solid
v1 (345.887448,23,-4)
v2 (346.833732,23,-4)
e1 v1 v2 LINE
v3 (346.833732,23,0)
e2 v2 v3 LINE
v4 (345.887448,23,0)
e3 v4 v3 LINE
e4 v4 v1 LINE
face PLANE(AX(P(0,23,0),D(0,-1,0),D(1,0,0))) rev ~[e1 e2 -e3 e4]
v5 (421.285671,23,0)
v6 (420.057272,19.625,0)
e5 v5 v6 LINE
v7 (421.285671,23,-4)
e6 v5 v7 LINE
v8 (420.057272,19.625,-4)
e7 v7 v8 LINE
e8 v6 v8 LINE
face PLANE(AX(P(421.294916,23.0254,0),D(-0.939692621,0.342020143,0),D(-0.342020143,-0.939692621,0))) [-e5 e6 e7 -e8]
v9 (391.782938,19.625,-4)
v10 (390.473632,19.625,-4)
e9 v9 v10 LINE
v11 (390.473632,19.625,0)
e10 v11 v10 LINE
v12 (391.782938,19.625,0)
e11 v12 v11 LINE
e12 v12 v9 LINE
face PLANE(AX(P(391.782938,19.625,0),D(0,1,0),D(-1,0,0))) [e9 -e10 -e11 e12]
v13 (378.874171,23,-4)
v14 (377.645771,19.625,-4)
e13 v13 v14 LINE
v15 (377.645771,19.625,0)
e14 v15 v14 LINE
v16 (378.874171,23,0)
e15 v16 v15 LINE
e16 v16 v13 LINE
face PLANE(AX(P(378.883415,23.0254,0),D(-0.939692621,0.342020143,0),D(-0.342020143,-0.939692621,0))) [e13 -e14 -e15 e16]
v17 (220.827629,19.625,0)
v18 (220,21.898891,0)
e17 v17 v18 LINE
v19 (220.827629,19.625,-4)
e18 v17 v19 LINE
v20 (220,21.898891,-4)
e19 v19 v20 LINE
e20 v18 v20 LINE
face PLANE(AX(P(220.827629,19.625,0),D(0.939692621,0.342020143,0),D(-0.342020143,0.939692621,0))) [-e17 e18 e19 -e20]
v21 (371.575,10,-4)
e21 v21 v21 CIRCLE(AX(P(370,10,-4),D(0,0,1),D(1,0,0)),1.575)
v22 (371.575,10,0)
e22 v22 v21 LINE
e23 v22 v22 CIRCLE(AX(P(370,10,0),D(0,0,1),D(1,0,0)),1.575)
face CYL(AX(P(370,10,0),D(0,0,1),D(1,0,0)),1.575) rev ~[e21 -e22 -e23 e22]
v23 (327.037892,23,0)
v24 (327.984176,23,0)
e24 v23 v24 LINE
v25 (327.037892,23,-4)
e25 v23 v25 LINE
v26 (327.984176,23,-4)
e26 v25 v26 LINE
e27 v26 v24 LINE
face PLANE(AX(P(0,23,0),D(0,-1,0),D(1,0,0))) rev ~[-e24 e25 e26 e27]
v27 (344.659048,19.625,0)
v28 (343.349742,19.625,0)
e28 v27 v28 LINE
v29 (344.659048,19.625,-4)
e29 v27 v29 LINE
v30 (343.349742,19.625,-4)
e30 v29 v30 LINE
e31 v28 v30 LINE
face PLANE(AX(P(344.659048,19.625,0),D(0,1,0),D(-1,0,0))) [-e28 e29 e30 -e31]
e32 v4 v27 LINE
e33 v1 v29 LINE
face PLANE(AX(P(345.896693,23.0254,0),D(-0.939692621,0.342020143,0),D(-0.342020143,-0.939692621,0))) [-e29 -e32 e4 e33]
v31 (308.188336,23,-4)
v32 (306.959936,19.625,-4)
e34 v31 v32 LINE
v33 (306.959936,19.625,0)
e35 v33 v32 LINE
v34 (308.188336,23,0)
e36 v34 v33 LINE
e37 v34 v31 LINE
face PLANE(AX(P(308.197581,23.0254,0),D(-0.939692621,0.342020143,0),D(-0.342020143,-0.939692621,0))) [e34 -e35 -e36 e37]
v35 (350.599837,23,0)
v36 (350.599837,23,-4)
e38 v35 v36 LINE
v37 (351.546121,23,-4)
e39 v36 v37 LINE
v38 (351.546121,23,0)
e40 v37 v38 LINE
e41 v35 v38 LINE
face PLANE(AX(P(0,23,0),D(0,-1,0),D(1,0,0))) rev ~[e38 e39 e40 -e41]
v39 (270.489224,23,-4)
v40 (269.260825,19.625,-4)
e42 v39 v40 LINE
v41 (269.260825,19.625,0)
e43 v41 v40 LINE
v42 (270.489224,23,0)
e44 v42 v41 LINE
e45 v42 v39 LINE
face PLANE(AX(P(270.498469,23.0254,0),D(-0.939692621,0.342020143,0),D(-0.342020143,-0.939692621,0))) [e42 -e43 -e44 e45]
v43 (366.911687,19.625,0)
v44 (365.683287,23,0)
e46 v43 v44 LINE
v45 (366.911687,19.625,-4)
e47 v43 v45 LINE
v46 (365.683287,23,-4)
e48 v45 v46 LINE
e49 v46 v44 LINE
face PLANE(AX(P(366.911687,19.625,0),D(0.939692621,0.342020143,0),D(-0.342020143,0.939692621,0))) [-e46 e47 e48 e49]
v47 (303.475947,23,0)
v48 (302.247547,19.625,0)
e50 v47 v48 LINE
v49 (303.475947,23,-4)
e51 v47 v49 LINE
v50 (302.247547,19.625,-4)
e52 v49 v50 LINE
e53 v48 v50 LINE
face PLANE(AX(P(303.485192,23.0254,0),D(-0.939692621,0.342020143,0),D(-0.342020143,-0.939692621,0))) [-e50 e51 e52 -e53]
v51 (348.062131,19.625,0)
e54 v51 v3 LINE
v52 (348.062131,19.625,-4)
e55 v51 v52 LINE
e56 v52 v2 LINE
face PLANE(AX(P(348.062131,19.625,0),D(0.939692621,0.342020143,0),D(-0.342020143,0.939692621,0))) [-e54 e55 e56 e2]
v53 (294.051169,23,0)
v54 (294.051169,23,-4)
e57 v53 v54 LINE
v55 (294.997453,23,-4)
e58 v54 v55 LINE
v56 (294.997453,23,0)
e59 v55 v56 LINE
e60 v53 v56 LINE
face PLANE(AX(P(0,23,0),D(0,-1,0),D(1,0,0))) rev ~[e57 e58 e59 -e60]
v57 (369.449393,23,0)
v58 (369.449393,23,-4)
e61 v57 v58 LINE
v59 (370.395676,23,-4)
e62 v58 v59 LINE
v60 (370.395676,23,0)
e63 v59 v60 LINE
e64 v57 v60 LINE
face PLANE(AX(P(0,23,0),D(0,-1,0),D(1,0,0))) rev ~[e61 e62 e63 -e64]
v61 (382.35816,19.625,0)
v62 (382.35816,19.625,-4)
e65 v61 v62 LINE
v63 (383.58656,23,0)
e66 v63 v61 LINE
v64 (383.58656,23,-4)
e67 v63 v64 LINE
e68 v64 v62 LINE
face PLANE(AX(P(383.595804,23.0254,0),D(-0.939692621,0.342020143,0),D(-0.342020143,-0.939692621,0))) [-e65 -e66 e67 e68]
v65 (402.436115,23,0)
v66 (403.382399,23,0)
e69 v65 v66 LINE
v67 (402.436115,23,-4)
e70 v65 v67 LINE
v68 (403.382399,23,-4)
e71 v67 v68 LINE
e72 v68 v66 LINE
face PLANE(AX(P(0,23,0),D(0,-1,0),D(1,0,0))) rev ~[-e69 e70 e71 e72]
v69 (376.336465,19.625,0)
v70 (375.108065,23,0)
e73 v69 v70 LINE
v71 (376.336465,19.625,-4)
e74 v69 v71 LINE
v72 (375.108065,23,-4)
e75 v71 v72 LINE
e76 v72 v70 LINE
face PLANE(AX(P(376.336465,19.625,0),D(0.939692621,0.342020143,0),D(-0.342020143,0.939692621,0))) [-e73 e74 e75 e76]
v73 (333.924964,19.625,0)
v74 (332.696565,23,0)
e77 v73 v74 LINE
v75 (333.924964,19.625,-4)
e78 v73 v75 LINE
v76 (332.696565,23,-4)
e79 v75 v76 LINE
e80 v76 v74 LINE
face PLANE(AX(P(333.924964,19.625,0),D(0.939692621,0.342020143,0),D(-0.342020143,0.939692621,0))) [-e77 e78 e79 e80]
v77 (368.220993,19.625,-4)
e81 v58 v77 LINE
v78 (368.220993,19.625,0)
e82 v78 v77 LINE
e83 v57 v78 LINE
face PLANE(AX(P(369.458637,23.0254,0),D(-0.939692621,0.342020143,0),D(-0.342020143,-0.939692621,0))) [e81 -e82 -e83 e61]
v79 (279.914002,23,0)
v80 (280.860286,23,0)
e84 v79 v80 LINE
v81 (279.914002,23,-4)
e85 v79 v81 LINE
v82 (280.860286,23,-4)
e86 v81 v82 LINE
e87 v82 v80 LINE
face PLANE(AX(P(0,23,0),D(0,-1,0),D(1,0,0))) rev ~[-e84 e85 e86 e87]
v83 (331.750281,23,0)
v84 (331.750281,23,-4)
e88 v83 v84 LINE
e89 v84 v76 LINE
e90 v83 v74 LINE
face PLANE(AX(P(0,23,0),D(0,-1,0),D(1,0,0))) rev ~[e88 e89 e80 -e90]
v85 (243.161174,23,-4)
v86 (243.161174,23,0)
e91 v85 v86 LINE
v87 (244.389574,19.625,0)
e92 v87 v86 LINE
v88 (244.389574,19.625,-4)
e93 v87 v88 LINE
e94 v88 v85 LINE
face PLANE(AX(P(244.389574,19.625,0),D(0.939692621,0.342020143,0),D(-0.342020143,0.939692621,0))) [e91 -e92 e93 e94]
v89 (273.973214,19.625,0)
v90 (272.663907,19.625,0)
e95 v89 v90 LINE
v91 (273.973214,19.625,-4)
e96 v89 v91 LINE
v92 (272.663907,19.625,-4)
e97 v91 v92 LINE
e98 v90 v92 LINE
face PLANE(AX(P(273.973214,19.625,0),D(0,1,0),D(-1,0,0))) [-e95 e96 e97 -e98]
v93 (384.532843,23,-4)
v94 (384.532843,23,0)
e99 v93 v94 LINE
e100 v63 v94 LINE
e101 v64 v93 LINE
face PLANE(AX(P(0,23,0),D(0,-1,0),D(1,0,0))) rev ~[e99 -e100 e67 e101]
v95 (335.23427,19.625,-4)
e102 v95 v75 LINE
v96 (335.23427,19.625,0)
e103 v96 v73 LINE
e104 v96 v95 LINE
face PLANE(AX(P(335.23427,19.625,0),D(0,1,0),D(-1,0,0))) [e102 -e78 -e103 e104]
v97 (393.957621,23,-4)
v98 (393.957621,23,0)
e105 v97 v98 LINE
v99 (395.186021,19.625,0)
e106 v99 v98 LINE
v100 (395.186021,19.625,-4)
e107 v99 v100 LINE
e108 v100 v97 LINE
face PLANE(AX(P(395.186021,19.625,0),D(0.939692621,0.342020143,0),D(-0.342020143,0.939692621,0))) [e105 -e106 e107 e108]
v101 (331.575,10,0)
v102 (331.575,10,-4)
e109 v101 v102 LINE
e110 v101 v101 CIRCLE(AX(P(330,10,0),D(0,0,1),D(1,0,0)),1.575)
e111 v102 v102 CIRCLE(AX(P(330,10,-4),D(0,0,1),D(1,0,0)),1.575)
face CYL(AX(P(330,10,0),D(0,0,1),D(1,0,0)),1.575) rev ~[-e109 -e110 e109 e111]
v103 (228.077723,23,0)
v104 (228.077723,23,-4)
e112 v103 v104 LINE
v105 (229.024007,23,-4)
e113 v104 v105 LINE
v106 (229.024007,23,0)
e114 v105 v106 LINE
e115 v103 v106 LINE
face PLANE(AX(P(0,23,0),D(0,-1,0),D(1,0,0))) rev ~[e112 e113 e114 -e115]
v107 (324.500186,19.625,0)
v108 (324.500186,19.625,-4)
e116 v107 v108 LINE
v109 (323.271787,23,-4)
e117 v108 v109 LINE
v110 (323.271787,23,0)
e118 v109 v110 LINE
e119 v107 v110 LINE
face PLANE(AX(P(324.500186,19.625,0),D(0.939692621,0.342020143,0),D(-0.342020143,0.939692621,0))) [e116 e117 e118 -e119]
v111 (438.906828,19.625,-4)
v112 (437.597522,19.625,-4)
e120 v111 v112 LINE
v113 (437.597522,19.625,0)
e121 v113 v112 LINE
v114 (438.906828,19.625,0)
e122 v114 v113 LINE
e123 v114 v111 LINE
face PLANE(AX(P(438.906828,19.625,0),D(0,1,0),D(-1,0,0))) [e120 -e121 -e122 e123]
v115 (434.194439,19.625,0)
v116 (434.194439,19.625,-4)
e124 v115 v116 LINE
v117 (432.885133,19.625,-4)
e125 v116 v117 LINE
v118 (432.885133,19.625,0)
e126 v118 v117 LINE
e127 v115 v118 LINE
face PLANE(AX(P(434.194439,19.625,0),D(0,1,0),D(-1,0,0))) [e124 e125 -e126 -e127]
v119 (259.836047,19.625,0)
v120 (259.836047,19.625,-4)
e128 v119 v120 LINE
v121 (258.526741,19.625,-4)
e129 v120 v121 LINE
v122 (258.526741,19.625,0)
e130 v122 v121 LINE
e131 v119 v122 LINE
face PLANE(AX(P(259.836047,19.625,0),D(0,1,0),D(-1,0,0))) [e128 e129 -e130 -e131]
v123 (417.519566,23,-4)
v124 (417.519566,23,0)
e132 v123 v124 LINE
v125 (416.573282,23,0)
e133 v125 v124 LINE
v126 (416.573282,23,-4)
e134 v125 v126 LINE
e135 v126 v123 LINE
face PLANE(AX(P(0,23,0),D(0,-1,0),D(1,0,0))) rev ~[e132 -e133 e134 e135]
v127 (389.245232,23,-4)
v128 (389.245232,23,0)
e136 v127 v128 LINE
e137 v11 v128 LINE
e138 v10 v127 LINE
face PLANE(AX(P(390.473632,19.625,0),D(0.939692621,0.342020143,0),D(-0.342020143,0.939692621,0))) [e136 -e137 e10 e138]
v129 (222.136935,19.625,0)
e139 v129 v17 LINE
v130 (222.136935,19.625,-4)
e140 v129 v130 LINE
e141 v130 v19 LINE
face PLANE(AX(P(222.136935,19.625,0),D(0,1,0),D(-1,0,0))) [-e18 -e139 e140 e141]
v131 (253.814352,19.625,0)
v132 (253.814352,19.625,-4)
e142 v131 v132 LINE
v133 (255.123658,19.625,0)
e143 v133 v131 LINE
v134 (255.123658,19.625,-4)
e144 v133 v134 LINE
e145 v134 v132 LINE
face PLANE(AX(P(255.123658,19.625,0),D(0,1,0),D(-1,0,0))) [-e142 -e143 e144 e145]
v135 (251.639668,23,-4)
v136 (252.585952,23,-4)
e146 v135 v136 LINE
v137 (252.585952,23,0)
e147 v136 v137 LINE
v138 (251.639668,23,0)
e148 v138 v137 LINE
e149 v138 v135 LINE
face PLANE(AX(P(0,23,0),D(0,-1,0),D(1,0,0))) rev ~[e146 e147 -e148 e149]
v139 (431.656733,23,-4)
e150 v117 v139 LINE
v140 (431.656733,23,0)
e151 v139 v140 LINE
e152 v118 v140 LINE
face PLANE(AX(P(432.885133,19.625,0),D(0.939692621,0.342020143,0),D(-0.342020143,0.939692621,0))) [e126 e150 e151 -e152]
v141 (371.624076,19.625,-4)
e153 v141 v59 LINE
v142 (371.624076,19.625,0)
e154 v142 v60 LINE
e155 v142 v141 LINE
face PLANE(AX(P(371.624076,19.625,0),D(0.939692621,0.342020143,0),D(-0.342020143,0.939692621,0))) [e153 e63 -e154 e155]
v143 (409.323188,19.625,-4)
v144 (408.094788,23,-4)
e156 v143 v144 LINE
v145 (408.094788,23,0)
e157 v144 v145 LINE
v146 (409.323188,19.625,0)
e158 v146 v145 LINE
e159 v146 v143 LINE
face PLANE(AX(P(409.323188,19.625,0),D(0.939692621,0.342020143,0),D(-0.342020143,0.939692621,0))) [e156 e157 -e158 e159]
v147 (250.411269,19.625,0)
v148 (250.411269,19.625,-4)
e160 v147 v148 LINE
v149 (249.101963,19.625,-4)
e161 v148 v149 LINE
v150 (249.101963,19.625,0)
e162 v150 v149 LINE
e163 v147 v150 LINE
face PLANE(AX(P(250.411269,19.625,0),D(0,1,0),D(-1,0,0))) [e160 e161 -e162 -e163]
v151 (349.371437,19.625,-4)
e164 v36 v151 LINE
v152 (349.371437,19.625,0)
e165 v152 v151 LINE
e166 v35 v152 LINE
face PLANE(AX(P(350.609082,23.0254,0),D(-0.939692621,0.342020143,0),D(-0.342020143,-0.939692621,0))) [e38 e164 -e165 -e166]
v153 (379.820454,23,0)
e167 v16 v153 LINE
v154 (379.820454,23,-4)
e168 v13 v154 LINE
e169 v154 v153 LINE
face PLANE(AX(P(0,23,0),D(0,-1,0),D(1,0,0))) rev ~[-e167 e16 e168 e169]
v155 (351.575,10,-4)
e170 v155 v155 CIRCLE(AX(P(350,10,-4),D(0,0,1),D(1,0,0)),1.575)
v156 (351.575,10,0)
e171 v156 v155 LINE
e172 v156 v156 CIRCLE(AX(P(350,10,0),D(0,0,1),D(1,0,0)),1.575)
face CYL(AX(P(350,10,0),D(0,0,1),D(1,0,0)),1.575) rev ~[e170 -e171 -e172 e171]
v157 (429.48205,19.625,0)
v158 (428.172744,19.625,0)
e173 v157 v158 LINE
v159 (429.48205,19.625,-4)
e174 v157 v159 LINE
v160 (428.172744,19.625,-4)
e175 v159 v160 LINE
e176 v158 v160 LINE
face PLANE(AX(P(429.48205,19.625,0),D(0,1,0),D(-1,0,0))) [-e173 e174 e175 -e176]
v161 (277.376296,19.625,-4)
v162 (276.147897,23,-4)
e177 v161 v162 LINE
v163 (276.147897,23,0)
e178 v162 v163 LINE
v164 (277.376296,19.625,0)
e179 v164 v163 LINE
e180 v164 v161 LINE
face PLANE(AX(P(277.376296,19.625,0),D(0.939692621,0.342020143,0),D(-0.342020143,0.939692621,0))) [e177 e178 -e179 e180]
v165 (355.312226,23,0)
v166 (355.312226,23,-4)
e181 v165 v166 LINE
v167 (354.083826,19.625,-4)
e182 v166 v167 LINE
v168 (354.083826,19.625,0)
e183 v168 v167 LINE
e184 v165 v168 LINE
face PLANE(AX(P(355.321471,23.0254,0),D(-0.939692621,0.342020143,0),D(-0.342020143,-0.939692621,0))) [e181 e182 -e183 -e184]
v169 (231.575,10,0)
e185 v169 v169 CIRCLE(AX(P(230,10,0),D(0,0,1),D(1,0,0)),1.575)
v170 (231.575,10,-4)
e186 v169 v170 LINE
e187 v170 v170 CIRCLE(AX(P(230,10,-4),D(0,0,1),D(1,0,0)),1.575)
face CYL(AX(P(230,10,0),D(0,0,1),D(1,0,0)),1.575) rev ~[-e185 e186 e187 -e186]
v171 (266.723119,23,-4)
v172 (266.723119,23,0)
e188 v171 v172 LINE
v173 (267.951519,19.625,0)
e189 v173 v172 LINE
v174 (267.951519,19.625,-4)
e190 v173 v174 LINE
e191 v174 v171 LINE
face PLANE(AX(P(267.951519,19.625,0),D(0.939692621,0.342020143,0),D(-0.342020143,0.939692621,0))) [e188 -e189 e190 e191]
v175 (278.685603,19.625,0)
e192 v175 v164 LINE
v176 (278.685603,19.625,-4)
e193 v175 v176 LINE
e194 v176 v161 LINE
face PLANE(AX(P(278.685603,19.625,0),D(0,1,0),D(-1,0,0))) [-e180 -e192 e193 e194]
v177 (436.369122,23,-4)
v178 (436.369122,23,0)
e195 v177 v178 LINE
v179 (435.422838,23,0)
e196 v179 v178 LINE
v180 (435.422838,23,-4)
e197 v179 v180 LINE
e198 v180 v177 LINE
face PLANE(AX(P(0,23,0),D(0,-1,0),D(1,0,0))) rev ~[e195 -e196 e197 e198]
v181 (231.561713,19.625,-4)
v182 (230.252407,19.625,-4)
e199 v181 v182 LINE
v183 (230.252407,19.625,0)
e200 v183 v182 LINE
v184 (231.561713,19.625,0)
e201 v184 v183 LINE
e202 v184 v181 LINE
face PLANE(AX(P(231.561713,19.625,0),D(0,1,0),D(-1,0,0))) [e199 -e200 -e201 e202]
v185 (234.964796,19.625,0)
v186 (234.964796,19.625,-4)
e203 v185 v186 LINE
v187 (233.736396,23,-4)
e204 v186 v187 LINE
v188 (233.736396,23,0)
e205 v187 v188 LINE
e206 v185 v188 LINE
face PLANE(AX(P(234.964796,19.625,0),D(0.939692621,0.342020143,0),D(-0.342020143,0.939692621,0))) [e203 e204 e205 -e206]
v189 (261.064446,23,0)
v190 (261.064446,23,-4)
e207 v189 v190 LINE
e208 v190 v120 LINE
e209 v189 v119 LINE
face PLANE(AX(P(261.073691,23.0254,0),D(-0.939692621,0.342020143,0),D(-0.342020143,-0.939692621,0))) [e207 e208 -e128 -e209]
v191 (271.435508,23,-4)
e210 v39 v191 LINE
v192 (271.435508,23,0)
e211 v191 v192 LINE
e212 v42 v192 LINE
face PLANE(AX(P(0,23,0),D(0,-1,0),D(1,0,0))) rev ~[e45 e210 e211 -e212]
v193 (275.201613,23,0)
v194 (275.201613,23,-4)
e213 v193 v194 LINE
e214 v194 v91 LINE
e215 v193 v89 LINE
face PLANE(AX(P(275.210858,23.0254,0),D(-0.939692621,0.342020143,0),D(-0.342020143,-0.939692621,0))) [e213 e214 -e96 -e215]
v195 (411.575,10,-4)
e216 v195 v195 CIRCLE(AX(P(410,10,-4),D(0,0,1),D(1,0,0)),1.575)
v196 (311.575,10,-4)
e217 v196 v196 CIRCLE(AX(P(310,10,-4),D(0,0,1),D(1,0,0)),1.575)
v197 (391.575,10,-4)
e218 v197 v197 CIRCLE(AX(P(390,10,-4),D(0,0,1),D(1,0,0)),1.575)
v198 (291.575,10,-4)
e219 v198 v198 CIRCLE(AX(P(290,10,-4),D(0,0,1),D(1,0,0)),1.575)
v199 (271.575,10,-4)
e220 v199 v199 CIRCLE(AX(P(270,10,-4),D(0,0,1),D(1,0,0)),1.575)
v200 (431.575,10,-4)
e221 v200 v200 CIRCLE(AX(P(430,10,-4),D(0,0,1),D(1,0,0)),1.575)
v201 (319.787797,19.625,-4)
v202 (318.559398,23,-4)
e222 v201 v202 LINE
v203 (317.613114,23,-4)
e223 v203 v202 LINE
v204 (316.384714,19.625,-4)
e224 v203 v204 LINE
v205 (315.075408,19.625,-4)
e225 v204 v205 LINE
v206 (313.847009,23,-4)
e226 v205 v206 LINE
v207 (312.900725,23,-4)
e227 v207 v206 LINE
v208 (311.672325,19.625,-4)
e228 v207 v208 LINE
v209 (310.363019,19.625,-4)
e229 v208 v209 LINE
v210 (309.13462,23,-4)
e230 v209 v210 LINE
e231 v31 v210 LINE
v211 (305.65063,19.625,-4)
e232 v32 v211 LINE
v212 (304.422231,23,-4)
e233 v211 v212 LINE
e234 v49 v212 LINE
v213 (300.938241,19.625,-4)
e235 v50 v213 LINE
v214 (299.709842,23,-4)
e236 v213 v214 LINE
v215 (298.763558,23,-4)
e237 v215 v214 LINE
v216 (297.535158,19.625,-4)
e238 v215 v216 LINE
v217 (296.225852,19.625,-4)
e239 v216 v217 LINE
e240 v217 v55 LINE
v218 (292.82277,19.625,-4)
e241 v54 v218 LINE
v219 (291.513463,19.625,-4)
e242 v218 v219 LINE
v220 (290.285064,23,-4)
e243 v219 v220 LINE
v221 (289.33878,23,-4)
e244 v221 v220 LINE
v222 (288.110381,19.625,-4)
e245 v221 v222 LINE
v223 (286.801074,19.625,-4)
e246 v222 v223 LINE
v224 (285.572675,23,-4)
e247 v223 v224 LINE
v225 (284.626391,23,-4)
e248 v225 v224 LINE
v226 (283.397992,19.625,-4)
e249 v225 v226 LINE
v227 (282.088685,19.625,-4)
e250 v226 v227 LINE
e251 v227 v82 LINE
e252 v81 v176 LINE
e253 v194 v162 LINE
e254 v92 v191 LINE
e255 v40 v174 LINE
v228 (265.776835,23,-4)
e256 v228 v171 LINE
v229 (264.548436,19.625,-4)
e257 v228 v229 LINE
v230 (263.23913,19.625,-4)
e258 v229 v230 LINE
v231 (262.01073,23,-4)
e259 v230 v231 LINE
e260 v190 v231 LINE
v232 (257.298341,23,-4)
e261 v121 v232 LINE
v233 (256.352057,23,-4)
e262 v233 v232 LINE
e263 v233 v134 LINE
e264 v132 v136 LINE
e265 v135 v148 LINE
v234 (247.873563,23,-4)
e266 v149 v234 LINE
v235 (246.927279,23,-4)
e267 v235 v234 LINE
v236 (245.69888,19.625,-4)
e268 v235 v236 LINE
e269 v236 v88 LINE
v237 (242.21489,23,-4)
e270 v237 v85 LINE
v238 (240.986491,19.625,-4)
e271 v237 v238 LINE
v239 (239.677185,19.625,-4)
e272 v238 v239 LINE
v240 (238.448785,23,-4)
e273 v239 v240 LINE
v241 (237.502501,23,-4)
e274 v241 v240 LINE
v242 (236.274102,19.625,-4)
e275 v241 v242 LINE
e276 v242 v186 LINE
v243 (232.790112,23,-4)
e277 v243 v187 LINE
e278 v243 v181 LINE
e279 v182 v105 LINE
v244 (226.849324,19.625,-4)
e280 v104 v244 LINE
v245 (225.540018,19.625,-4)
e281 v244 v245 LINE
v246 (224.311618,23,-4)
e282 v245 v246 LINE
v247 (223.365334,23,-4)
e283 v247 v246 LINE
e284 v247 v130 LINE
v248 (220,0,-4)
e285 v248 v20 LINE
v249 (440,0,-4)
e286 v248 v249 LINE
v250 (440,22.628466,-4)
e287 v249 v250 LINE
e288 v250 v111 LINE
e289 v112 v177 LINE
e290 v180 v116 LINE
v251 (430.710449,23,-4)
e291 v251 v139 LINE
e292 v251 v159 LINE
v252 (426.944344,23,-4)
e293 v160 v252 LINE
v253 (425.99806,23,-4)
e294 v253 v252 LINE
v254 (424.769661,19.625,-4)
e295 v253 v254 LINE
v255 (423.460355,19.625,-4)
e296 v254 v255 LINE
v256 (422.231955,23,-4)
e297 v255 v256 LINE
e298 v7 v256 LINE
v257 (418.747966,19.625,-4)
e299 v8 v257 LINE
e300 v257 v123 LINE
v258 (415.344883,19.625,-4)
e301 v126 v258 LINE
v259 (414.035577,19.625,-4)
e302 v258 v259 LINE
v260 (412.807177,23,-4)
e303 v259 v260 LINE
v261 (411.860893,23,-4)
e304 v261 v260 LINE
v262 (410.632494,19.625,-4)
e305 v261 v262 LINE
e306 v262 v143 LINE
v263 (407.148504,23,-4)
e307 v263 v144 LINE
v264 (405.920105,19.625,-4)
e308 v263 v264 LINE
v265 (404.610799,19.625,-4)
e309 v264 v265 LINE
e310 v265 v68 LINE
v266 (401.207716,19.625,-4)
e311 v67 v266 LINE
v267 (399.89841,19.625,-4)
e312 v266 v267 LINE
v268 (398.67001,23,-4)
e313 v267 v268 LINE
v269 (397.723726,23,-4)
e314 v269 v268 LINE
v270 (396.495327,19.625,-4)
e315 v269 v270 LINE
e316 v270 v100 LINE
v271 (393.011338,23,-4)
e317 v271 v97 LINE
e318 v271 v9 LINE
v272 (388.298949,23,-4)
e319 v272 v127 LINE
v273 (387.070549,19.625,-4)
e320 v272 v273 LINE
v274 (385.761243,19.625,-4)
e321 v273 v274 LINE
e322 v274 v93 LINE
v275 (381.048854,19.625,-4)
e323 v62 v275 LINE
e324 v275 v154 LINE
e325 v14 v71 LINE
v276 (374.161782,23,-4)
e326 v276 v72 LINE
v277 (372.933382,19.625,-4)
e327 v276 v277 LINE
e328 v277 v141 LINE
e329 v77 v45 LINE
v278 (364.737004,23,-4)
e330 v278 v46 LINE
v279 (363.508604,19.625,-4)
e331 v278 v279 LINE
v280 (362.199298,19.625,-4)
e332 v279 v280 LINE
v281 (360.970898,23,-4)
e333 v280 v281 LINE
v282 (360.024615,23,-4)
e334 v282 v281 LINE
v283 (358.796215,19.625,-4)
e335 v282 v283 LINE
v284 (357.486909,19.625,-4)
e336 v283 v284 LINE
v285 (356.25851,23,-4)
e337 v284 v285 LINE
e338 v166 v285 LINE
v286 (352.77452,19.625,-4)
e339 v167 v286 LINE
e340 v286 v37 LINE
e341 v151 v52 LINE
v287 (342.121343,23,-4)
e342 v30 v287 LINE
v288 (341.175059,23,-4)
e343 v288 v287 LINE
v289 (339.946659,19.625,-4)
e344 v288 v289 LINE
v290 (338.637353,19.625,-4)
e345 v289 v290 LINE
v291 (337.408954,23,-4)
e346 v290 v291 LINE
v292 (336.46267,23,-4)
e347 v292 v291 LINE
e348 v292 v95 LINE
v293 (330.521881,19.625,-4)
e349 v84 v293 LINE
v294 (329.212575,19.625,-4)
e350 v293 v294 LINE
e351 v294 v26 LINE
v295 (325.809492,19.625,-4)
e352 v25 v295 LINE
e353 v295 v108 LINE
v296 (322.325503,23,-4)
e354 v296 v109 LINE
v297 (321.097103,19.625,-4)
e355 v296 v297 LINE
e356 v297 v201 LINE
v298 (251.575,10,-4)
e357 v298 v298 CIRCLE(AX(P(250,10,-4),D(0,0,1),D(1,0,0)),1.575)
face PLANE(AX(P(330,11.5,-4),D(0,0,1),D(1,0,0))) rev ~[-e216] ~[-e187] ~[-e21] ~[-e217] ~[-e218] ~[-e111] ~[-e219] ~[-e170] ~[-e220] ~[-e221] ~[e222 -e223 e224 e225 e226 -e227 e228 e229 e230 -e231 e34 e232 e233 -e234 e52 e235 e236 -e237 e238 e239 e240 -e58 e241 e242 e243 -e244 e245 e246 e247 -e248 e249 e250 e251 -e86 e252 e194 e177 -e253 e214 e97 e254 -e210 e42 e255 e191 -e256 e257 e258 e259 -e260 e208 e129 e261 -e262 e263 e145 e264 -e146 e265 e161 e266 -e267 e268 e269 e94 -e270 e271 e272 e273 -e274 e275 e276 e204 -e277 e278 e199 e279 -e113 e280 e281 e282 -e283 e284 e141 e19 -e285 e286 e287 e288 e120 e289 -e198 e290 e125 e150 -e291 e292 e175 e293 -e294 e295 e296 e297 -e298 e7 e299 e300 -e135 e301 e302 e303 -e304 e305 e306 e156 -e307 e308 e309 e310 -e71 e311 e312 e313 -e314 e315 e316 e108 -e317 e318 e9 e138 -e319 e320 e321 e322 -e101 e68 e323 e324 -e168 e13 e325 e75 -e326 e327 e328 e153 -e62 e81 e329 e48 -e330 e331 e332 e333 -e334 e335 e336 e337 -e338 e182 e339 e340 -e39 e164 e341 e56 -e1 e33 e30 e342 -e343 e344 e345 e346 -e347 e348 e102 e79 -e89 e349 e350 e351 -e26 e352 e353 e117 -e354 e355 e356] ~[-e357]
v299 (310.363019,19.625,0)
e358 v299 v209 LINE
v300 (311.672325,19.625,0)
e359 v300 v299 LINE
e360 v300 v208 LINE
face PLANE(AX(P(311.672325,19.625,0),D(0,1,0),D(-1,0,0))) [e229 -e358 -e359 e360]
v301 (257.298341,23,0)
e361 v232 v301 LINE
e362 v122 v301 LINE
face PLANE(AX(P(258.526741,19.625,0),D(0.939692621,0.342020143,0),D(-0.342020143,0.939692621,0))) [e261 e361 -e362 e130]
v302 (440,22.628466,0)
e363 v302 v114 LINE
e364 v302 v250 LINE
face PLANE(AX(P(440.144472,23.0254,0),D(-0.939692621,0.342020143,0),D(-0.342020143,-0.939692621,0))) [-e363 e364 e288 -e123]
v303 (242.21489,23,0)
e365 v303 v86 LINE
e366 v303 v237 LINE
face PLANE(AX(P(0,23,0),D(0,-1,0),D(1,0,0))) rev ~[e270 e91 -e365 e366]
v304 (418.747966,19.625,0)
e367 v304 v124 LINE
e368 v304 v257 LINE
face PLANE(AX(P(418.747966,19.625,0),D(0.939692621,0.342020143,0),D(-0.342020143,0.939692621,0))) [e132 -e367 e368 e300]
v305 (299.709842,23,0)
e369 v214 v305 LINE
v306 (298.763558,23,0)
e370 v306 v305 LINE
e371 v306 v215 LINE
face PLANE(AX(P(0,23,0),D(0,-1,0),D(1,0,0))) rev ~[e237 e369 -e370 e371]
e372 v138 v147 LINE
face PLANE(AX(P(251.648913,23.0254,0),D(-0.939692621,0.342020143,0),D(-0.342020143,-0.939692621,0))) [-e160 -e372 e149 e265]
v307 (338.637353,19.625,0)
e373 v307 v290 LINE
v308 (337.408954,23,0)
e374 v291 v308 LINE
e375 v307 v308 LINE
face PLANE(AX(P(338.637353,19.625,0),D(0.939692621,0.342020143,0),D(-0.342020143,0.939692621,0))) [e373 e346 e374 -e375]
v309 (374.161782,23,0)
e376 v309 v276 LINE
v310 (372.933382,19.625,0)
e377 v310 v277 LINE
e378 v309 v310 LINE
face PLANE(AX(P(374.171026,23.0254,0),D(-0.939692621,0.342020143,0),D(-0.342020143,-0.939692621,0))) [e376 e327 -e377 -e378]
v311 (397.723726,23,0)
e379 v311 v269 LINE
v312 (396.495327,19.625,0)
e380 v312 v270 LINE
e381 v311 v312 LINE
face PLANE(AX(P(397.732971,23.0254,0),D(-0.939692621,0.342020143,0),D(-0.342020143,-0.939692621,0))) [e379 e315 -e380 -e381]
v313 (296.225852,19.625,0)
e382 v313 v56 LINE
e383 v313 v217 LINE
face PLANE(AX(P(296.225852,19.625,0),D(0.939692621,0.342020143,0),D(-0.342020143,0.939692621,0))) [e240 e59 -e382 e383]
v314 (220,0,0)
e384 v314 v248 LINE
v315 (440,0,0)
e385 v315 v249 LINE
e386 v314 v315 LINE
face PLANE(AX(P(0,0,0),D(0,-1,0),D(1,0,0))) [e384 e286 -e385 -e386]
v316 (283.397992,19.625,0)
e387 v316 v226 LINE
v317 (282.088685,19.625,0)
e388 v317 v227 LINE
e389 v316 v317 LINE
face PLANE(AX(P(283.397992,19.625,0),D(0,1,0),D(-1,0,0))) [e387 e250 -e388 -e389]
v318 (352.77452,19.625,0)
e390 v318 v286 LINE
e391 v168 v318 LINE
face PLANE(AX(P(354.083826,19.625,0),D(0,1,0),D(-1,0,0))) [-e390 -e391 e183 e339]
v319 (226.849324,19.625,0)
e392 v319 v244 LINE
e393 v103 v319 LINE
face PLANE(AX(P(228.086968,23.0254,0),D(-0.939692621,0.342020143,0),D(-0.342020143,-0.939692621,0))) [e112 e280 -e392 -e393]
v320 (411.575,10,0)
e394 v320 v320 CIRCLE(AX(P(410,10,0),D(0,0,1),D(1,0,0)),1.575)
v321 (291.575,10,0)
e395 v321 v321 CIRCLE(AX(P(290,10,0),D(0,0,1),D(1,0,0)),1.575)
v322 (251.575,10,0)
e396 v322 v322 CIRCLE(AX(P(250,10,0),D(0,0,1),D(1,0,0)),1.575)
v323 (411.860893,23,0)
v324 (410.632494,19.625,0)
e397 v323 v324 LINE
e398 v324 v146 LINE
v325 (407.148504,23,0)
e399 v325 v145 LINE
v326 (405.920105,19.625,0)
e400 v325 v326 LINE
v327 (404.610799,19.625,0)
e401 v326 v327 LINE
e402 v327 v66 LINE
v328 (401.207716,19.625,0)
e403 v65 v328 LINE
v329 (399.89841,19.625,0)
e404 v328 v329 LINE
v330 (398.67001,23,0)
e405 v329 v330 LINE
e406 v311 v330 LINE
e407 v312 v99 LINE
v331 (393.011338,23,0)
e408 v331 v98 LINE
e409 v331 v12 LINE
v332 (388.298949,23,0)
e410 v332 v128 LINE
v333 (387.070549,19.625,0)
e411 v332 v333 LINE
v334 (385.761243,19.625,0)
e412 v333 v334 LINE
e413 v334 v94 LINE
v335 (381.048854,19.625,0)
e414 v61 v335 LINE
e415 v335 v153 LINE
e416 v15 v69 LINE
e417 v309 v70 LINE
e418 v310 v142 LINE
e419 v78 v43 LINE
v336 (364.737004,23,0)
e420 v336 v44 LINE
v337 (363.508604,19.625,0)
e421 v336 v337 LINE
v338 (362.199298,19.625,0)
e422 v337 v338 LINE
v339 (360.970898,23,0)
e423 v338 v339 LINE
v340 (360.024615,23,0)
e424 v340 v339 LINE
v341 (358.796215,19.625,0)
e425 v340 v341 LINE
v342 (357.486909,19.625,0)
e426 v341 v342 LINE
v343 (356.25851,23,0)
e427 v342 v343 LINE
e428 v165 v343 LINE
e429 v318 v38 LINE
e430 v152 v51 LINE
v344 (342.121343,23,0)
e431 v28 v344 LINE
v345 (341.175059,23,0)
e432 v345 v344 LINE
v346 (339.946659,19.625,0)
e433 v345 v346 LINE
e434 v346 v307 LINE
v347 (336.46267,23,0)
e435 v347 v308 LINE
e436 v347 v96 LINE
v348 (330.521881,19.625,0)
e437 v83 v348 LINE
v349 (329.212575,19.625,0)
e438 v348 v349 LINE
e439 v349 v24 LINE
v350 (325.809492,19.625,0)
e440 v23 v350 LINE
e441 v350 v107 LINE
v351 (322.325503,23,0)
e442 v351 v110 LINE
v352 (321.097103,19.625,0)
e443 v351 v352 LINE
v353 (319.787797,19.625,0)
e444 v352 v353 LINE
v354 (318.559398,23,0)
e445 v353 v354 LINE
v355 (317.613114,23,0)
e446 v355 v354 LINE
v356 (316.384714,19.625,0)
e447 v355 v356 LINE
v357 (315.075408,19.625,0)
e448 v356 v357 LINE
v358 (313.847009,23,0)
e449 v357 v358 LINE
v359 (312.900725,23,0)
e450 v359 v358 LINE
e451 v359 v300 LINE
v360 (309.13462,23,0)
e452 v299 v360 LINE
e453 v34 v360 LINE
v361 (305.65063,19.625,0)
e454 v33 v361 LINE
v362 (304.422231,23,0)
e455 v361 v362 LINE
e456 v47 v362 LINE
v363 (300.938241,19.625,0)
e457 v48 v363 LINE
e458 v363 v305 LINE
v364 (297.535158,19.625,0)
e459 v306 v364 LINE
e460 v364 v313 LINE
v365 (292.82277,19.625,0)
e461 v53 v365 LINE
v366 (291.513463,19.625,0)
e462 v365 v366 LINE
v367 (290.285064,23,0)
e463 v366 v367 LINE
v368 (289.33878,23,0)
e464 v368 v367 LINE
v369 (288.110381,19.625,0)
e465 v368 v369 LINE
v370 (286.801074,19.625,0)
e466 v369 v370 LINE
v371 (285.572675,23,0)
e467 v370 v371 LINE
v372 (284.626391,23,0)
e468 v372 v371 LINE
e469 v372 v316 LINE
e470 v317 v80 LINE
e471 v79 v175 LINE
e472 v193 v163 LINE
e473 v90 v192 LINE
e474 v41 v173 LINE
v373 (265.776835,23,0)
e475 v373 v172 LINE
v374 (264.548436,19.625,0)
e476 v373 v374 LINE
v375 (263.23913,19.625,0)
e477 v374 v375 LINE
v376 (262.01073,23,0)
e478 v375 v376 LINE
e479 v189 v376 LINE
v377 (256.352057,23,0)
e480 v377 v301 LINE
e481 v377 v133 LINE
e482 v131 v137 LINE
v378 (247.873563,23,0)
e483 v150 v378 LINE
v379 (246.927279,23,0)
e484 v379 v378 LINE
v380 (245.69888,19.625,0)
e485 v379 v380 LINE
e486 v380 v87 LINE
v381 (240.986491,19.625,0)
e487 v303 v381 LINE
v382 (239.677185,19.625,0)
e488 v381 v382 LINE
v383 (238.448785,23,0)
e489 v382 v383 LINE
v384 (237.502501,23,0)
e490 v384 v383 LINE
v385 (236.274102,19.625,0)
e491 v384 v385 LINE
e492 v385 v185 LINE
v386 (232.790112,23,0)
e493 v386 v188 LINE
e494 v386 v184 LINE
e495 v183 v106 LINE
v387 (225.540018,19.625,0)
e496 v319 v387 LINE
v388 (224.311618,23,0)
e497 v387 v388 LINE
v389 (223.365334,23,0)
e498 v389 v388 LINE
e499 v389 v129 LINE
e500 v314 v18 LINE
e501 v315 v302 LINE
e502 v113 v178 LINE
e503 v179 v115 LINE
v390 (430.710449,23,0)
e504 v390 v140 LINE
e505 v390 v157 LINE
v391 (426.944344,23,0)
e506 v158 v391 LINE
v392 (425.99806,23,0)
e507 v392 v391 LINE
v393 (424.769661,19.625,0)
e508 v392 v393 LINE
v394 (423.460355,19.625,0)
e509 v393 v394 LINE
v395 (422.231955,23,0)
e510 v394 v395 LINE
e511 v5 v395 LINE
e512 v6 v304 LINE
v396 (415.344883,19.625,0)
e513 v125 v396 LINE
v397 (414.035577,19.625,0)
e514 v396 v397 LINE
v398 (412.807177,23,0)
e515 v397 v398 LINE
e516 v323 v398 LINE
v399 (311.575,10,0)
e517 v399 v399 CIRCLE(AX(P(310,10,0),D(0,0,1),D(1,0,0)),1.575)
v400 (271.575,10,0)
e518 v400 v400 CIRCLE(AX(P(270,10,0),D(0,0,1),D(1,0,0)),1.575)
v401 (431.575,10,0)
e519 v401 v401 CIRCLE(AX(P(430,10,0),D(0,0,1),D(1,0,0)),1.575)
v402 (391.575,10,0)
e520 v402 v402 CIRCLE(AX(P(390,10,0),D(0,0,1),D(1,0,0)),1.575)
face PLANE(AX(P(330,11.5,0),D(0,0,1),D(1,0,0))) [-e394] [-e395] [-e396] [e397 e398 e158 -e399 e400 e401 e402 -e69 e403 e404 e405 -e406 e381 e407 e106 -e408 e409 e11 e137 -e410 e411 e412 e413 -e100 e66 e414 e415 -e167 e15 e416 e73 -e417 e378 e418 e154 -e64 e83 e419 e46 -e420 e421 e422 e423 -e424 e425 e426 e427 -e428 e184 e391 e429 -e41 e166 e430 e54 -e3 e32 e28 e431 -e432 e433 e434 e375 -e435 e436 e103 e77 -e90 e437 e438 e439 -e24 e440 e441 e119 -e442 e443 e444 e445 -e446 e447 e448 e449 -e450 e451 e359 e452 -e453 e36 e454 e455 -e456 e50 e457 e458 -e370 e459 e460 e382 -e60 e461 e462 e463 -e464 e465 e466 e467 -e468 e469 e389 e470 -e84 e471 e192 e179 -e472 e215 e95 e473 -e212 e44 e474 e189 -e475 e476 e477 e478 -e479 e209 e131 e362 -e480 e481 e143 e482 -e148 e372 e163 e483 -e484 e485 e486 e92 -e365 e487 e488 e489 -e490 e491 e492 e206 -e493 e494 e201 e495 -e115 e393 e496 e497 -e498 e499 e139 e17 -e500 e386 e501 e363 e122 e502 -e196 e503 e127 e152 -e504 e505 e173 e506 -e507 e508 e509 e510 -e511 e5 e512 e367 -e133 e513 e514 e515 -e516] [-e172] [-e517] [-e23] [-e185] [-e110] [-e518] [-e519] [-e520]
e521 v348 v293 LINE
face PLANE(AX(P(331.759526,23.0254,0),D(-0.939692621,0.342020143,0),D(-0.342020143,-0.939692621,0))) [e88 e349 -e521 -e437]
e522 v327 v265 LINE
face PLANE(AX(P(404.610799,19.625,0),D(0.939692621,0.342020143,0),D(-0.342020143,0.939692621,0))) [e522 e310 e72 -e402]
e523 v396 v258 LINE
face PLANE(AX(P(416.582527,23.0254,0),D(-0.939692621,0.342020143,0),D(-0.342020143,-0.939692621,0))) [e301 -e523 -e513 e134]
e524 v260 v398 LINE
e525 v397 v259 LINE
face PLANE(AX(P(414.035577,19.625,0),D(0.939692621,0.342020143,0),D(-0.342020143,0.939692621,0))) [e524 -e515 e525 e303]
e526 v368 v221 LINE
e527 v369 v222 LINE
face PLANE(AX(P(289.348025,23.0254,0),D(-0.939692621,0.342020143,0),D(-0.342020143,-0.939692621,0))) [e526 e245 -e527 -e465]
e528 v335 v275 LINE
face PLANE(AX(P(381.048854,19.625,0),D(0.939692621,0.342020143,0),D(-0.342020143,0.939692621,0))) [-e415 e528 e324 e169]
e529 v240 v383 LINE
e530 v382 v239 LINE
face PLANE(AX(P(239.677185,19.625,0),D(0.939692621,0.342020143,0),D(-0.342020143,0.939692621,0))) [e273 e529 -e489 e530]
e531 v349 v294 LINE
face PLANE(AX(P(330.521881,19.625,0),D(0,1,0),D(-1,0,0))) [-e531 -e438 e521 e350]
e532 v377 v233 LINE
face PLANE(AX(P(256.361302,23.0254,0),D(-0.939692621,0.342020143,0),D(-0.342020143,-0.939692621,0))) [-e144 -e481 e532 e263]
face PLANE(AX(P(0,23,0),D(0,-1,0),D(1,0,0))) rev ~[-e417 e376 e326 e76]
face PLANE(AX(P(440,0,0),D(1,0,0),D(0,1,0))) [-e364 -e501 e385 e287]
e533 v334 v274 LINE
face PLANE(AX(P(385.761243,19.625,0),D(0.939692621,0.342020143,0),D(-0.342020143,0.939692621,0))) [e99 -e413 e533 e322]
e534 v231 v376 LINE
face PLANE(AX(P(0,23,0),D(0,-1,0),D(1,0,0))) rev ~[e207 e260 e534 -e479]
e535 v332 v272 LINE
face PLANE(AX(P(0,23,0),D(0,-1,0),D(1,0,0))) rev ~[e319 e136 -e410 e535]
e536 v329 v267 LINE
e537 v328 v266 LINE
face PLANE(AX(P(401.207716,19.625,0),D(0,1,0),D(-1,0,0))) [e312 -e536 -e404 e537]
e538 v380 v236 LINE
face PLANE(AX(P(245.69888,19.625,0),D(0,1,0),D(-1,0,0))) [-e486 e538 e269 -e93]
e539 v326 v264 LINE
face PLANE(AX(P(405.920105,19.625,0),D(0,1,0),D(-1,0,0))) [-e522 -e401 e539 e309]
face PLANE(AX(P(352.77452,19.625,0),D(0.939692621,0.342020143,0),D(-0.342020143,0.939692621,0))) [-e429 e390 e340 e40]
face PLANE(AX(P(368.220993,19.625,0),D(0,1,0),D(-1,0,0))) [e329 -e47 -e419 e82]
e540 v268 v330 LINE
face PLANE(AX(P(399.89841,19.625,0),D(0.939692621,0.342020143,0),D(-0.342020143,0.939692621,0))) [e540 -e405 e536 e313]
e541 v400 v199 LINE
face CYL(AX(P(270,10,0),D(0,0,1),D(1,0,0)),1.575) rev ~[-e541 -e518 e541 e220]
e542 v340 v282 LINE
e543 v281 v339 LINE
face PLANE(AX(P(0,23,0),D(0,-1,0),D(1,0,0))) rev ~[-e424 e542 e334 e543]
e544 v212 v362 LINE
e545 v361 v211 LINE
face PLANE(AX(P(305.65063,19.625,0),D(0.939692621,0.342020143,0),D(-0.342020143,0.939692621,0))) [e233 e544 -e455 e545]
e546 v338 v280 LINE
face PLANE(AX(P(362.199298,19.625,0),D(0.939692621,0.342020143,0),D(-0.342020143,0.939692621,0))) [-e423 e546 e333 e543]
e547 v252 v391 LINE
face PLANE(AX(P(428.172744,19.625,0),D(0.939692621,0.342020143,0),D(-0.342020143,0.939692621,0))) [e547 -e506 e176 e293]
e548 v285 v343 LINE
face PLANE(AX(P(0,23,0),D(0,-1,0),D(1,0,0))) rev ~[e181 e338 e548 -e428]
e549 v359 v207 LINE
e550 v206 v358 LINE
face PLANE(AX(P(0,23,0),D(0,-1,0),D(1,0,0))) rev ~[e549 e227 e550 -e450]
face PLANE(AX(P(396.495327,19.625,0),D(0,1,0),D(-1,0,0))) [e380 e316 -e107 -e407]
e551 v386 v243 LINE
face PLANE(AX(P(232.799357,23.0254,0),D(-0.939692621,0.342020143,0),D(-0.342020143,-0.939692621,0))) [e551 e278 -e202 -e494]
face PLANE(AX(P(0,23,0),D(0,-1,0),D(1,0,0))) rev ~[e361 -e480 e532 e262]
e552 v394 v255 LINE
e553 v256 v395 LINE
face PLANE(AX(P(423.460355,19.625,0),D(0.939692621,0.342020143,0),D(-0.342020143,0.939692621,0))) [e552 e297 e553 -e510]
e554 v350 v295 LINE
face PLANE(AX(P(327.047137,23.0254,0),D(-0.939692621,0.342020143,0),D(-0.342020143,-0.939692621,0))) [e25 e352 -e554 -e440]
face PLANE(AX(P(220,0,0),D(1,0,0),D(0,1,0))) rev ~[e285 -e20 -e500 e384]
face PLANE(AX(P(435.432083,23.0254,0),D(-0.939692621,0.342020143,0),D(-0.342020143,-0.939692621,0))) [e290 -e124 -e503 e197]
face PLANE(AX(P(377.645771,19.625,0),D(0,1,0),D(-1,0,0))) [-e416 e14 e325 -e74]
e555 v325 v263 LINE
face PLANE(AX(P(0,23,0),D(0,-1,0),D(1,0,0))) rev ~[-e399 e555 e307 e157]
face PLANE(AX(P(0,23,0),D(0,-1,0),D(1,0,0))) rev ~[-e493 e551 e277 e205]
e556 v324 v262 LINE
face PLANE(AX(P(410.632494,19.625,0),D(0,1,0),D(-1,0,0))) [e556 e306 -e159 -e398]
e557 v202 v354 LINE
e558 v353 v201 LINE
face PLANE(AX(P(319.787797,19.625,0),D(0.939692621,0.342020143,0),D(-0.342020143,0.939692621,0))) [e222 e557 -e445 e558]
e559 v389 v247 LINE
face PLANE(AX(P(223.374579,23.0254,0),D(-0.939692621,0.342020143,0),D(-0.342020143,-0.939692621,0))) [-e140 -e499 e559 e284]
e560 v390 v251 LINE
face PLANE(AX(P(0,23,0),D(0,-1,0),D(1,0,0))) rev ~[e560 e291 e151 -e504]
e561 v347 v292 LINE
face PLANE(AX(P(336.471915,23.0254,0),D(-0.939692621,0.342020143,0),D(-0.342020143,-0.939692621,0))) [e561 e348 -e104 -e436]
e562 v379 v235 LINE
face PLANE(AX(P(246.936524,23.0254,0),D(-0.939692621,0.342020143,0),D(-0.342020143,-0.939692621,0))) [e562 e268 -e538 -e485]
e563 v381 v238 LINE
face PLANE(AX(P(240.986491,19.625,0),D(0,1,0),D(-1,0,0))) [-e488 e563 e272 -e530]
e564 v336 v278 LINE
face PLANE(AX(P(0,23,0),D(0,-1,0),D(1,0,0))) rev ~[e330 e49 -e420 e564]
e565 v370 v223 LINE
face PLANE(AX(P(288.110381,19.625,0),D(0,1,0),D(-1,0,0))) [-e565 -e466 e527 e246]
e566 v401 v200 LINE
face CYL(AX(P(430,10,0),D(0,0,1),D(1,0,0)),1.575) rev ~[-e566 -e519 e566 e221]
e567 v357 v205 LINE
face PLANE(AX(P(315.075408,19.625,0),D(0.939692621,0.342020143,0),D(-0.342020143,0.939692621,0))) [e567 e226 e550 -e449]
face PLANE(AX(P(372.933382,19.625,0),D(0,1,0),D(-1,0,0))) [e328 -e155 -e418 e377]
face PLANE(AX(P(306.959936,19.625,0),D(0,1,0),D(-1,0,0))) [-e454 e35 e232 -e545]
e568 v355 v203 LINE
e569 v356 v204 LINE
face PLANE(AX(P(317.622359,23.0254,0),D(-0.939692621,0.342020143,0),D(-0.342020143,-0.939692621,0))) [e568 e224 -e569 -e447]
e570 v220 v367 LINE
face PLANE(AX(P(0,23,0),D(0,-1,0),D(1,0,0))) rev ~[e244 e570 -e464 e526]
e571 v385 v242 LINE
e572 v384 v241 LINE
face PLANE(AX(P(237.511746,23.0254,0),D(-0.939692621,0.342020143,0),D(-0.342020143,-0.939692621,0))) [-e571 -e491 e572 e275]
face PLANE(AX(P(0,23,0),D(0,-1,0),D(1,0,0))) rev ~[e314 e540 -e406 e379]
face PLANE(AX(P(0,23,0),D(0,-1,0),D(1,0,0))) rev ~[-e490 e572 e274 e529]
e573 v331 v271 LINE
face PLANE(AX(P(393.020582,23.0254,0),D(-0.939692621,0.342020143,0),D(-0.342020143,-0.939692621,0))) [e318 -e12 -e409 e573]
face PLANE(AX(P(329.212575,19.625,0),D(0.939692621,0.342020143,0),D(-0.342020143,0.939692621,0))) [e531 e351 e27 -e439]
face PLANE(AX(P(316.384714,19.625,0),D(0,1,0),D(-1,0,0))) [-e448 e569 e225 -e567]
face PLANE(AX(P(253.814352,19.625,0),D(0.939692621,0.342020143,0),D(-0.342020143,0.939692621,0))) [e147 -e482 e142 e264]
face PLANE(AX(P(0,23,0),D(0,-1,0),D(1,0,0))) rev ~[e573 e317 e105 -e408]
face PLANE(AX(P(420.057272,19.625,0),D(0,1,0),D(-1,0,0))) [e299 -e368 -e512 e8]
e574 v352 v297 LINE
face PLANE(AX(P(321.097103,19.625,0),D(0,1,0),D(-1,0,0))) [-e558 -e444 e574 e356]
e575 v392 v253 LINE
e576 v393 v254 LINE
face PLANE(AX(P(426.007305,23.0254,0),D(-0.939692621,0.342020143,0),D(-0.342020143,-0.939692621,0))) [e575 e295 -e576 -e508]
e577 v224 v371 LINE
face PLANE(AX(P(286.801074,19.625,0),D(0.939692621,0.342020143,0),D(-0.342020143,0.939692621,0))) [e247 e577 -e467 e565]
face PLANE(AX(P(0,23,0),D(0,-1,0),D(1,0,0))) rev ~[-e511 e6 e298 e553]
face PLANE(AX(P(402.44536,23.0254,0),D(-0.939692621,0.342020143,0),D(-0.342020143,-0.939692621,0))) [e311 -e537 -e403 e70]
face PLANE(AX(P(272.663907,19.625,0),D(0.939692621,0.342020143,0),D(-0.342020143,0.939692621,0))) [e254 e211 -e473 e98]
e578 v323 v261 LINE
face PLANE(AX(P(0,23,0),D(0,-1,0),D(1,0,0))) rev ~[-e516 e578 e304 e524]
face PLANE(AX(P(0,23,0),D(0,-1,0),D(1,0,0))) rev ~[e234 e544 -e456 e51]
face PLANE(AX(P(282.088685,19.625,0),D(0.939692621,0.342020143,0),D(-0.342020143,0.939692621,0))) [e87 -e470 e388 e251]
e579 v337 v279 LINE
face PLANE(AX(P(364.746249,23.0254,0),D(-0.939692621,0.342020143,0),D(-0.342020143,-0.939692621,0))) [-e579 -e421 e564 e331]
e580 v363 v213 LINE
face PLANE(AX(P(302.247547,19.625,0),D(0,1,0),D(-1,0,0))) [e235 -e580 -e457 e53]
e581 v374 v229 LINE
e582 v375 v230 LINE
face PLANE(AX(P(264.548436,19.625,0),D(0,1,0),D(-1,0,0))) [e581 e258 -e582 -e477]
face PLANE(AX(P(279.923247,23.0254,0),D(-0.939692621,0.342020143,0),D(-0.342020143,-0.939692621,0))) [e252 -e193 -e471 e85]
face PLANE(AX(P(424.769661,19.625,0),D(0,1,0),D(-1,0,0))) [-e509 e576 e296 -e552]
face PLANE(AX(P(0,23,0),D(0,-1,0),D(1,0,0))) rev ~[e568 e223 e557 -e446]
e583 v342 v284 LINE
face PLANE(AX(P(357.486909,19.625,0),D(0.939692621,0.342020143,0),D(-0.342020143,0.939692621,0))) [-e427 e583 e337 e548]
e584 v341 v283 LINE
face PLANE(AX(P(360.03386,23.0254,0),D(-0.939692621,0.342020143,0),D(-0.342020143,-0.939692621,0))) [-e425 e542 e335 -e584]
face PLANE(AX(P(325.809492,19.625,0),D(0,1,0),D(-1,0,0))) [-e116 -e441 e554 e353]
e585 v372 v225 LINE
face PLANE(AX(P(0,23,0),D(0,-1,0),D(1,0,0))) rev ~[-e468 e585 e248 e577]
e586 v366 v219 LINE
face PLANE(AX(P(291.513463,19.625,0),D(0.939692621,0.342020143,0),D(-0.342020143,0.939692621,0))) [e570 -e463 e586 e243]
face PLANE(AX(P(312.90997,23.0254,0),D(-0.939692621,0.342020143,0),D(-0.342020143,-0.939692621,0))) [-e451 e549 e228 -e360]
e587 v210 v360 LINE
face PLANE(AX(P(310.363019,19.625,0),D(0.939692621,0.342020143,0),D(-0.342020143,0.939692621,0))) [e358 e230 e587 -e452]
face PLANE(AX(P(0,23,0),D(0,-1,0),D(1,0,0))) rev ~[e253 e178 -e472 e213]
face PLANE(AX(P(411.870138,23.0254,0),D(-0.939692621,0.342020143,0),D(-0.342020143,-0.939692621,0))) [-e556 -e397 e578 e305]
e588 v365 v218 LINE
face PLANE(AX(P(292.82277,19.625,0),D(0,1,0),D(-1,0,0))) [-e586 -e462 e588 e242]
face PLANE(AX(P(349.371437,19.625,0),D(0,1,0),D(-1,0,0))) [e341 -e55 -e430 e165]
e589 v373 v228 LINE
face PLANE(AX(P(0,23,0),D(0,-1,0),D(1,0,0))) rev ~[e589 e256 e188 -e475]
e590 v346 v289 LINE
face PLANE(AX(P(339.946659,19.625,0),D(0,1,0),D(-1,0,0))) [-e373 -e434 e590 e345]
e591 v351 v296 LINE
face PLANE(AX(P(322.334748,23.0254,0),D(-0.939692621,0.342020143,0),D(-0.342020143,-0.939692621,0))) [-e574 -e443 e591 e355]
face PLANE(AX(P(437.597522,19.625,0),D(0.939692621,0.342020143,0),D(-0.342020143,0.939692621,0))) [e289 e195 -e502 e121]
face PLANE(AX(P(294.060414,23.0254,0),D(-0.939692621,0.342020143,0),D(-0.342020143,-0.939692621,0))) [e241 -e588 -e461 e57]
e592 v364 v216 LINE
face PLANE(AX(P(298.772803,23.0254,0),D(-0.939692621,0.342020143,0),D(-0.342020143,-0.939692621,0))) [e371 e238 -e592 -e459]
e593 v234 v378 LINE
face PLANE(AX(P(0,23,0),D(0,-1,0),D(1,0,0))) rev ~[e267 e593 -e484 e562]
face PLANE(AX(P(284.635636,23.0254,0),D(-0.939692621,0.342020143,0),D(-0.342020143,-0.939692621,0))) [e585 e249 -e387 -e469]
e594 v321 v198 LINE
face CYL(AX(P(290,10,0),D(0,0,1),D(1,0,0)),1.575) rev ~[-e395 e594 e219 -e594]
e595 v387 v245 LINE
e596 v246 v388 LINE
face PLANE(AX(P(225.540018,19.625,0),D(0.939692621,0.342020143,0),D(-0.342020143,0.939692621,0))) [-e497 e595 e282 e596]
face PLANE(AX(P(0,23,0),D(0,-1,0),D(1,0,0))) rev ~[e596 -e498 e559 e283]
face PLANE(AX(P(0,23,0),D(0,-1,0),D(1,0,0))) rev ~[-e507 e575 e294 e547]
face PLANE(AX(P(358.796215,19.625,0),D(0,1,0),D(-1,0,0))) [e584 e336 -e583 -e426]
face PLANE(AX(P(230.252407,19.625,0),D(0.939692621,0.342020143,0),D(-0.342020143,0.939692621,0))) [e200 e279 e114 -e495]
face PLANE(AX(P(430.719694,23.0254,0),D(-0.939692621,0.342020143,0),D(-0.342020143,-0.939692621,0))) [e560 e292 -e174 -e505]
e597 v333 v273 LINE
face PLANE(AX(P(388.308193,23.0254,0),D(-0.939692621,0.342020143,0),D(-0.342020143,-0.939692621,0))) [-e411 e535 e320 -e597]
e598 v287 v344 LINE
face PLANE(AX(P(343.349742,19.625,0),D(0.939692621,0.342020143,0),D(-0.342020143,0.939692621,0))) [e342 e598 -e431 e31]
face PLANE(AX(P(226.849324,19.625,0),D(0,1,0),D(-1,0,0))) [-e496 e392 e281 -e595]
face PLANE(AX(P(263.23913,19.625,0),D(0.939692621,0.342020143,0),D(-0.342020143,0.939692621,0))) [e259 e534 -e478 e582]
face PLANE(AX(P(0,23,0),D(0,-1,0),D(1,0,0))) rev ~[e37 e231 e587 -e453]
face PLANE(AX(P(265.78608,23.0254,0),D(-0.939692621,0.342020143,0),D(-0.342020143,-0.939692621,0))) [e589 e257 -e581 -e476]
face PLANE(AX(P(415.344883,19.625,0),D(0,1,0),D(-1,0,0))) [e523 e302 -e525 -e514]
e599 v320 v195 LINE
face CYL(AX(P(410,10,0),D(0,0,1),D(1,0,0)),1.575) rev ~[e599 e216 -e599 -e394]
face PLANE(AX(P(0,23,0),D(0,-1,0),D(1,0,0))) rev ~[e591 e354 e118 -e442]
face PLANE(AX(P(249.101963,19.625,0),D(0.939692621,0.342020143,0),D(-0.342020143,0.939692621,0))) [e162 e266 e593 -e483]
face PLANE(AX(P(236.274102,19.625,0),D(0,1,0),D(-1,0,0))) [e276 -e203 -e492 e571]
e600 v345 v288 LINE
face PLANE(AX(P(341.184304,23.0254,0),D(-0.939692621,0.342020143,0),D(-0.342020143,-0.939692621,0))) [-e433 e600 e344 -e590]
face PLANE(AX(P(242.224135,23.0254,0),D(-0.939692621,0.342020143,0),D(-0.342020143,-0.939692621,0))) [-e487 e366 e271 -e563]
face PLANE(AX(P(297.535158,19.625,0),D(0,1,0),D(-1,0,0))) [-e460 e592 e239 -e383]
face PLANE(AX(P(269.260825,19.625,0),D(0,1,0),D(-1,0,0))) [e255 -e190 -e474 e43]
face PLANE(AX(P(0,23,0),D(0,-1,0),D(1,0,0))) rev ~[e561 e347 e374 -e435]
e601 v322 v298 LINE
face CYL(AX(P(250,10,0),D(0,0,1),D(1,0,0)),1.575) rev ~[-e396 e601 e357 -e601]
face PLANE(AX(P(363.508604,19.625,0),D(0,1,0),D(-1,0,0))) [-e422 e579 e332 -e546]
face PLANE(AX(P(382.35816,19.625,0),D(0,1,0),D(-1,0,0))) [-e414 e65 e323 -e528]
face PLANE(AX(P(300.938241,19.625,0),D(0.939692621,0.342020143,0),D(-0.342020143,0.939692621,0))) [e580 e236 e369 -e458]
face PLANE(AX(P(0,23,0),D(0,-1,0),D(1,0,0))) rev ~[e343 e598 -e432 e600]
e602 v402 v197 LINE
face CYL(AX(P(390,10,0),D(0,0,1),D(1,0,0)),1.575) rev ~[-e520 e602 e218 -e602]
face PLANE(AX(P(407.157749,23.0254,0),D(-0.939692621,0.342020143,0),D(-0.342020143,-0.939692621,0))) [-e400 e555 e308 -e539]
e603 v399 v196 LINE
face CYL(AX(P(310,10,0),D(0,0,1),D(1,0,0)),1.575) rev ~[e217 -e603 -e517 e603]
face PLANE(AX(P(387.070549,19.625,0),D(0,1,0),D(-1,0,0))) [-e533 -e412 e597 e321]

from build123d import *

# Parameters (mm, degrees)
BLANKSKE_W          = 660
BLANKSKE_H          = 23
BLANK_DEPTH         = 4
TOOTHCUTSIM_DEPTH   = 661.412749726
TEETHCUTS_COUNT     = 141
TEETHCUTS_PITCH     = 4.712388975
SKETCH_2_R          = 1.575
CUT_EXTRUDE_2_DEPTH = 661.412749726
SKETCH_3_W          = 220
SKETCH_3_H          = 92.024953344
SKETCH_3_H_2        = 80.466347601
CUT_EXTRUDE_3_DEPTH = 661.412749726


with BuildPart() as part:
    # BlankSke → Blank (new body)
    with BuildSketch(Plane.XY):
        with Locations((330, 11.5)):
            Rectangle(BLANKSKE_W, BLANKSKE_H)
    extrude(amount=-BLANK_DEPTH)

    # TooCutSkeSim → ToothCutSim (cut, through all)
    with BuildSketch(Plane.XY):
        Polygon((0.654653055, 19.625), (-0.654653055, 19.625), (-1.892297439, 23.0254), (1.892297439, 23.0254), align=None)
    toothcutsim = extrude(amount=-TOOTHCUTSIM_DEPTH, mode=Mode.SUBTRACT)

    # TeethCuts: ToothCutSim ×141
    with Locations(*[(i * TEETHCUTS_PITCH, 0, 0) for i in range(1, TEETHCUTS_COUNT)]):
        add(toothcutsim, mode=Mode.SUBTRACT)

    # 草图2 → 切除-拉伸2 (cut, through all)
    with BuildSketch(Plane.XY):
        with Locations((650, 10)):
            Circle(SKETCH_2_R)
        with Locations((630, 10)):
            Circle(SKETCH_2_R)
        with Locations((610, 10)):
            Circle(SKETCH_2_R)
        with Locations((590, 10)):
            Circle(SKETCH_2_R)
        with Locations((570, 10)):
            Circle(SKETCH_2_R)
        with Locations((550, 10)):
            Circle(SKETCH_2_R)
        with Locations((530, 10)):
            Circle(SKETCH_2_R)
        with Locations((510, 10)):
            Circle(SKETCH_2_R)
        with Locations((490, 10)):
            Circle(SKETCH_2_R)
        with Locations((470, 10)):
            Circle(SKETCH_2_R)
        with Locations((450, 10)):
            Circle(SKETCH_2_R)
        with Locations((430, 10)):
            Circle(SKETCH_2_R)
        with Locations((410, 10)):
            Circle(SKETCH_2_R)
        with Locations((390, 10)):
            Circle(SKETCH_2_R)
        with Locations((370, 10)):
            Circle(SKETCH_2_R)
        with Locations((350, 10)):
            Circle(SKETCH_2_R)
        with Locations((330, 10)):
            Circle(SKETCH_2_R)
        with Locations((310, 10)):
            Circle(SKETCH_2_R)
        with Locations((290, 10)):
            Circle(SKETCH_2_R)
        with Locations((270, 10)):
            Circle(SKETCH_2_R)
        with Locations((250, 10)):
            Circle(SKETCH_2_R)
        with Locations((230, 10)):
            Circle(SKETCH_2_R)
        with Locations((210, 10)):
            Circle(SKETCH_2_R)
        with Locations((190, 10)):
            Circle(SKETCH_2_R)
        with Locations((170, 10)):
            Circle(SKETCH_2_R)
        with Locations((150, 10)):
            Circle(SKETCH_2_R)
        with Locations((130, 10)):
            Circle(SKETCH_2_R)
        with Locations((110, 10)):
            Circle(SKETCH_2_R)
        with Locations((90, 10)):
            Circle(SKETCH_2_R)
        with Locations((70, 10)):
            Circle(SKETCH_2_R)
        with Locations((50, 10)):
            Circle(SKETCH_2_R)
        with Locations((30, 10)):
            Circle(SKETCH_2_R)
        with Locations((10, 10)):
            Circle(SKETCH_2_R)
    extrude(amount=-CUT_EXTRUDE_2_DEPTH, mode=Mode.SUBTRACT)

    # 草图3 → 切除-拉伸3 (cut, through all)
    with BuildSketch(Plane.XY):
        with Locations((110, 46.012476672)):
            Rectangle(SKETCH_3_W, SKETCH_3_H)
        with Locations((550, 40.233173801)):
            Rectangle(SKETCH_3_W, SKETCH_3_H_2)
    extrude(amount=-CUT_EXTRUDE_3_DEPTH, mode=Mode.SUBTRACT)


solid = part.part
